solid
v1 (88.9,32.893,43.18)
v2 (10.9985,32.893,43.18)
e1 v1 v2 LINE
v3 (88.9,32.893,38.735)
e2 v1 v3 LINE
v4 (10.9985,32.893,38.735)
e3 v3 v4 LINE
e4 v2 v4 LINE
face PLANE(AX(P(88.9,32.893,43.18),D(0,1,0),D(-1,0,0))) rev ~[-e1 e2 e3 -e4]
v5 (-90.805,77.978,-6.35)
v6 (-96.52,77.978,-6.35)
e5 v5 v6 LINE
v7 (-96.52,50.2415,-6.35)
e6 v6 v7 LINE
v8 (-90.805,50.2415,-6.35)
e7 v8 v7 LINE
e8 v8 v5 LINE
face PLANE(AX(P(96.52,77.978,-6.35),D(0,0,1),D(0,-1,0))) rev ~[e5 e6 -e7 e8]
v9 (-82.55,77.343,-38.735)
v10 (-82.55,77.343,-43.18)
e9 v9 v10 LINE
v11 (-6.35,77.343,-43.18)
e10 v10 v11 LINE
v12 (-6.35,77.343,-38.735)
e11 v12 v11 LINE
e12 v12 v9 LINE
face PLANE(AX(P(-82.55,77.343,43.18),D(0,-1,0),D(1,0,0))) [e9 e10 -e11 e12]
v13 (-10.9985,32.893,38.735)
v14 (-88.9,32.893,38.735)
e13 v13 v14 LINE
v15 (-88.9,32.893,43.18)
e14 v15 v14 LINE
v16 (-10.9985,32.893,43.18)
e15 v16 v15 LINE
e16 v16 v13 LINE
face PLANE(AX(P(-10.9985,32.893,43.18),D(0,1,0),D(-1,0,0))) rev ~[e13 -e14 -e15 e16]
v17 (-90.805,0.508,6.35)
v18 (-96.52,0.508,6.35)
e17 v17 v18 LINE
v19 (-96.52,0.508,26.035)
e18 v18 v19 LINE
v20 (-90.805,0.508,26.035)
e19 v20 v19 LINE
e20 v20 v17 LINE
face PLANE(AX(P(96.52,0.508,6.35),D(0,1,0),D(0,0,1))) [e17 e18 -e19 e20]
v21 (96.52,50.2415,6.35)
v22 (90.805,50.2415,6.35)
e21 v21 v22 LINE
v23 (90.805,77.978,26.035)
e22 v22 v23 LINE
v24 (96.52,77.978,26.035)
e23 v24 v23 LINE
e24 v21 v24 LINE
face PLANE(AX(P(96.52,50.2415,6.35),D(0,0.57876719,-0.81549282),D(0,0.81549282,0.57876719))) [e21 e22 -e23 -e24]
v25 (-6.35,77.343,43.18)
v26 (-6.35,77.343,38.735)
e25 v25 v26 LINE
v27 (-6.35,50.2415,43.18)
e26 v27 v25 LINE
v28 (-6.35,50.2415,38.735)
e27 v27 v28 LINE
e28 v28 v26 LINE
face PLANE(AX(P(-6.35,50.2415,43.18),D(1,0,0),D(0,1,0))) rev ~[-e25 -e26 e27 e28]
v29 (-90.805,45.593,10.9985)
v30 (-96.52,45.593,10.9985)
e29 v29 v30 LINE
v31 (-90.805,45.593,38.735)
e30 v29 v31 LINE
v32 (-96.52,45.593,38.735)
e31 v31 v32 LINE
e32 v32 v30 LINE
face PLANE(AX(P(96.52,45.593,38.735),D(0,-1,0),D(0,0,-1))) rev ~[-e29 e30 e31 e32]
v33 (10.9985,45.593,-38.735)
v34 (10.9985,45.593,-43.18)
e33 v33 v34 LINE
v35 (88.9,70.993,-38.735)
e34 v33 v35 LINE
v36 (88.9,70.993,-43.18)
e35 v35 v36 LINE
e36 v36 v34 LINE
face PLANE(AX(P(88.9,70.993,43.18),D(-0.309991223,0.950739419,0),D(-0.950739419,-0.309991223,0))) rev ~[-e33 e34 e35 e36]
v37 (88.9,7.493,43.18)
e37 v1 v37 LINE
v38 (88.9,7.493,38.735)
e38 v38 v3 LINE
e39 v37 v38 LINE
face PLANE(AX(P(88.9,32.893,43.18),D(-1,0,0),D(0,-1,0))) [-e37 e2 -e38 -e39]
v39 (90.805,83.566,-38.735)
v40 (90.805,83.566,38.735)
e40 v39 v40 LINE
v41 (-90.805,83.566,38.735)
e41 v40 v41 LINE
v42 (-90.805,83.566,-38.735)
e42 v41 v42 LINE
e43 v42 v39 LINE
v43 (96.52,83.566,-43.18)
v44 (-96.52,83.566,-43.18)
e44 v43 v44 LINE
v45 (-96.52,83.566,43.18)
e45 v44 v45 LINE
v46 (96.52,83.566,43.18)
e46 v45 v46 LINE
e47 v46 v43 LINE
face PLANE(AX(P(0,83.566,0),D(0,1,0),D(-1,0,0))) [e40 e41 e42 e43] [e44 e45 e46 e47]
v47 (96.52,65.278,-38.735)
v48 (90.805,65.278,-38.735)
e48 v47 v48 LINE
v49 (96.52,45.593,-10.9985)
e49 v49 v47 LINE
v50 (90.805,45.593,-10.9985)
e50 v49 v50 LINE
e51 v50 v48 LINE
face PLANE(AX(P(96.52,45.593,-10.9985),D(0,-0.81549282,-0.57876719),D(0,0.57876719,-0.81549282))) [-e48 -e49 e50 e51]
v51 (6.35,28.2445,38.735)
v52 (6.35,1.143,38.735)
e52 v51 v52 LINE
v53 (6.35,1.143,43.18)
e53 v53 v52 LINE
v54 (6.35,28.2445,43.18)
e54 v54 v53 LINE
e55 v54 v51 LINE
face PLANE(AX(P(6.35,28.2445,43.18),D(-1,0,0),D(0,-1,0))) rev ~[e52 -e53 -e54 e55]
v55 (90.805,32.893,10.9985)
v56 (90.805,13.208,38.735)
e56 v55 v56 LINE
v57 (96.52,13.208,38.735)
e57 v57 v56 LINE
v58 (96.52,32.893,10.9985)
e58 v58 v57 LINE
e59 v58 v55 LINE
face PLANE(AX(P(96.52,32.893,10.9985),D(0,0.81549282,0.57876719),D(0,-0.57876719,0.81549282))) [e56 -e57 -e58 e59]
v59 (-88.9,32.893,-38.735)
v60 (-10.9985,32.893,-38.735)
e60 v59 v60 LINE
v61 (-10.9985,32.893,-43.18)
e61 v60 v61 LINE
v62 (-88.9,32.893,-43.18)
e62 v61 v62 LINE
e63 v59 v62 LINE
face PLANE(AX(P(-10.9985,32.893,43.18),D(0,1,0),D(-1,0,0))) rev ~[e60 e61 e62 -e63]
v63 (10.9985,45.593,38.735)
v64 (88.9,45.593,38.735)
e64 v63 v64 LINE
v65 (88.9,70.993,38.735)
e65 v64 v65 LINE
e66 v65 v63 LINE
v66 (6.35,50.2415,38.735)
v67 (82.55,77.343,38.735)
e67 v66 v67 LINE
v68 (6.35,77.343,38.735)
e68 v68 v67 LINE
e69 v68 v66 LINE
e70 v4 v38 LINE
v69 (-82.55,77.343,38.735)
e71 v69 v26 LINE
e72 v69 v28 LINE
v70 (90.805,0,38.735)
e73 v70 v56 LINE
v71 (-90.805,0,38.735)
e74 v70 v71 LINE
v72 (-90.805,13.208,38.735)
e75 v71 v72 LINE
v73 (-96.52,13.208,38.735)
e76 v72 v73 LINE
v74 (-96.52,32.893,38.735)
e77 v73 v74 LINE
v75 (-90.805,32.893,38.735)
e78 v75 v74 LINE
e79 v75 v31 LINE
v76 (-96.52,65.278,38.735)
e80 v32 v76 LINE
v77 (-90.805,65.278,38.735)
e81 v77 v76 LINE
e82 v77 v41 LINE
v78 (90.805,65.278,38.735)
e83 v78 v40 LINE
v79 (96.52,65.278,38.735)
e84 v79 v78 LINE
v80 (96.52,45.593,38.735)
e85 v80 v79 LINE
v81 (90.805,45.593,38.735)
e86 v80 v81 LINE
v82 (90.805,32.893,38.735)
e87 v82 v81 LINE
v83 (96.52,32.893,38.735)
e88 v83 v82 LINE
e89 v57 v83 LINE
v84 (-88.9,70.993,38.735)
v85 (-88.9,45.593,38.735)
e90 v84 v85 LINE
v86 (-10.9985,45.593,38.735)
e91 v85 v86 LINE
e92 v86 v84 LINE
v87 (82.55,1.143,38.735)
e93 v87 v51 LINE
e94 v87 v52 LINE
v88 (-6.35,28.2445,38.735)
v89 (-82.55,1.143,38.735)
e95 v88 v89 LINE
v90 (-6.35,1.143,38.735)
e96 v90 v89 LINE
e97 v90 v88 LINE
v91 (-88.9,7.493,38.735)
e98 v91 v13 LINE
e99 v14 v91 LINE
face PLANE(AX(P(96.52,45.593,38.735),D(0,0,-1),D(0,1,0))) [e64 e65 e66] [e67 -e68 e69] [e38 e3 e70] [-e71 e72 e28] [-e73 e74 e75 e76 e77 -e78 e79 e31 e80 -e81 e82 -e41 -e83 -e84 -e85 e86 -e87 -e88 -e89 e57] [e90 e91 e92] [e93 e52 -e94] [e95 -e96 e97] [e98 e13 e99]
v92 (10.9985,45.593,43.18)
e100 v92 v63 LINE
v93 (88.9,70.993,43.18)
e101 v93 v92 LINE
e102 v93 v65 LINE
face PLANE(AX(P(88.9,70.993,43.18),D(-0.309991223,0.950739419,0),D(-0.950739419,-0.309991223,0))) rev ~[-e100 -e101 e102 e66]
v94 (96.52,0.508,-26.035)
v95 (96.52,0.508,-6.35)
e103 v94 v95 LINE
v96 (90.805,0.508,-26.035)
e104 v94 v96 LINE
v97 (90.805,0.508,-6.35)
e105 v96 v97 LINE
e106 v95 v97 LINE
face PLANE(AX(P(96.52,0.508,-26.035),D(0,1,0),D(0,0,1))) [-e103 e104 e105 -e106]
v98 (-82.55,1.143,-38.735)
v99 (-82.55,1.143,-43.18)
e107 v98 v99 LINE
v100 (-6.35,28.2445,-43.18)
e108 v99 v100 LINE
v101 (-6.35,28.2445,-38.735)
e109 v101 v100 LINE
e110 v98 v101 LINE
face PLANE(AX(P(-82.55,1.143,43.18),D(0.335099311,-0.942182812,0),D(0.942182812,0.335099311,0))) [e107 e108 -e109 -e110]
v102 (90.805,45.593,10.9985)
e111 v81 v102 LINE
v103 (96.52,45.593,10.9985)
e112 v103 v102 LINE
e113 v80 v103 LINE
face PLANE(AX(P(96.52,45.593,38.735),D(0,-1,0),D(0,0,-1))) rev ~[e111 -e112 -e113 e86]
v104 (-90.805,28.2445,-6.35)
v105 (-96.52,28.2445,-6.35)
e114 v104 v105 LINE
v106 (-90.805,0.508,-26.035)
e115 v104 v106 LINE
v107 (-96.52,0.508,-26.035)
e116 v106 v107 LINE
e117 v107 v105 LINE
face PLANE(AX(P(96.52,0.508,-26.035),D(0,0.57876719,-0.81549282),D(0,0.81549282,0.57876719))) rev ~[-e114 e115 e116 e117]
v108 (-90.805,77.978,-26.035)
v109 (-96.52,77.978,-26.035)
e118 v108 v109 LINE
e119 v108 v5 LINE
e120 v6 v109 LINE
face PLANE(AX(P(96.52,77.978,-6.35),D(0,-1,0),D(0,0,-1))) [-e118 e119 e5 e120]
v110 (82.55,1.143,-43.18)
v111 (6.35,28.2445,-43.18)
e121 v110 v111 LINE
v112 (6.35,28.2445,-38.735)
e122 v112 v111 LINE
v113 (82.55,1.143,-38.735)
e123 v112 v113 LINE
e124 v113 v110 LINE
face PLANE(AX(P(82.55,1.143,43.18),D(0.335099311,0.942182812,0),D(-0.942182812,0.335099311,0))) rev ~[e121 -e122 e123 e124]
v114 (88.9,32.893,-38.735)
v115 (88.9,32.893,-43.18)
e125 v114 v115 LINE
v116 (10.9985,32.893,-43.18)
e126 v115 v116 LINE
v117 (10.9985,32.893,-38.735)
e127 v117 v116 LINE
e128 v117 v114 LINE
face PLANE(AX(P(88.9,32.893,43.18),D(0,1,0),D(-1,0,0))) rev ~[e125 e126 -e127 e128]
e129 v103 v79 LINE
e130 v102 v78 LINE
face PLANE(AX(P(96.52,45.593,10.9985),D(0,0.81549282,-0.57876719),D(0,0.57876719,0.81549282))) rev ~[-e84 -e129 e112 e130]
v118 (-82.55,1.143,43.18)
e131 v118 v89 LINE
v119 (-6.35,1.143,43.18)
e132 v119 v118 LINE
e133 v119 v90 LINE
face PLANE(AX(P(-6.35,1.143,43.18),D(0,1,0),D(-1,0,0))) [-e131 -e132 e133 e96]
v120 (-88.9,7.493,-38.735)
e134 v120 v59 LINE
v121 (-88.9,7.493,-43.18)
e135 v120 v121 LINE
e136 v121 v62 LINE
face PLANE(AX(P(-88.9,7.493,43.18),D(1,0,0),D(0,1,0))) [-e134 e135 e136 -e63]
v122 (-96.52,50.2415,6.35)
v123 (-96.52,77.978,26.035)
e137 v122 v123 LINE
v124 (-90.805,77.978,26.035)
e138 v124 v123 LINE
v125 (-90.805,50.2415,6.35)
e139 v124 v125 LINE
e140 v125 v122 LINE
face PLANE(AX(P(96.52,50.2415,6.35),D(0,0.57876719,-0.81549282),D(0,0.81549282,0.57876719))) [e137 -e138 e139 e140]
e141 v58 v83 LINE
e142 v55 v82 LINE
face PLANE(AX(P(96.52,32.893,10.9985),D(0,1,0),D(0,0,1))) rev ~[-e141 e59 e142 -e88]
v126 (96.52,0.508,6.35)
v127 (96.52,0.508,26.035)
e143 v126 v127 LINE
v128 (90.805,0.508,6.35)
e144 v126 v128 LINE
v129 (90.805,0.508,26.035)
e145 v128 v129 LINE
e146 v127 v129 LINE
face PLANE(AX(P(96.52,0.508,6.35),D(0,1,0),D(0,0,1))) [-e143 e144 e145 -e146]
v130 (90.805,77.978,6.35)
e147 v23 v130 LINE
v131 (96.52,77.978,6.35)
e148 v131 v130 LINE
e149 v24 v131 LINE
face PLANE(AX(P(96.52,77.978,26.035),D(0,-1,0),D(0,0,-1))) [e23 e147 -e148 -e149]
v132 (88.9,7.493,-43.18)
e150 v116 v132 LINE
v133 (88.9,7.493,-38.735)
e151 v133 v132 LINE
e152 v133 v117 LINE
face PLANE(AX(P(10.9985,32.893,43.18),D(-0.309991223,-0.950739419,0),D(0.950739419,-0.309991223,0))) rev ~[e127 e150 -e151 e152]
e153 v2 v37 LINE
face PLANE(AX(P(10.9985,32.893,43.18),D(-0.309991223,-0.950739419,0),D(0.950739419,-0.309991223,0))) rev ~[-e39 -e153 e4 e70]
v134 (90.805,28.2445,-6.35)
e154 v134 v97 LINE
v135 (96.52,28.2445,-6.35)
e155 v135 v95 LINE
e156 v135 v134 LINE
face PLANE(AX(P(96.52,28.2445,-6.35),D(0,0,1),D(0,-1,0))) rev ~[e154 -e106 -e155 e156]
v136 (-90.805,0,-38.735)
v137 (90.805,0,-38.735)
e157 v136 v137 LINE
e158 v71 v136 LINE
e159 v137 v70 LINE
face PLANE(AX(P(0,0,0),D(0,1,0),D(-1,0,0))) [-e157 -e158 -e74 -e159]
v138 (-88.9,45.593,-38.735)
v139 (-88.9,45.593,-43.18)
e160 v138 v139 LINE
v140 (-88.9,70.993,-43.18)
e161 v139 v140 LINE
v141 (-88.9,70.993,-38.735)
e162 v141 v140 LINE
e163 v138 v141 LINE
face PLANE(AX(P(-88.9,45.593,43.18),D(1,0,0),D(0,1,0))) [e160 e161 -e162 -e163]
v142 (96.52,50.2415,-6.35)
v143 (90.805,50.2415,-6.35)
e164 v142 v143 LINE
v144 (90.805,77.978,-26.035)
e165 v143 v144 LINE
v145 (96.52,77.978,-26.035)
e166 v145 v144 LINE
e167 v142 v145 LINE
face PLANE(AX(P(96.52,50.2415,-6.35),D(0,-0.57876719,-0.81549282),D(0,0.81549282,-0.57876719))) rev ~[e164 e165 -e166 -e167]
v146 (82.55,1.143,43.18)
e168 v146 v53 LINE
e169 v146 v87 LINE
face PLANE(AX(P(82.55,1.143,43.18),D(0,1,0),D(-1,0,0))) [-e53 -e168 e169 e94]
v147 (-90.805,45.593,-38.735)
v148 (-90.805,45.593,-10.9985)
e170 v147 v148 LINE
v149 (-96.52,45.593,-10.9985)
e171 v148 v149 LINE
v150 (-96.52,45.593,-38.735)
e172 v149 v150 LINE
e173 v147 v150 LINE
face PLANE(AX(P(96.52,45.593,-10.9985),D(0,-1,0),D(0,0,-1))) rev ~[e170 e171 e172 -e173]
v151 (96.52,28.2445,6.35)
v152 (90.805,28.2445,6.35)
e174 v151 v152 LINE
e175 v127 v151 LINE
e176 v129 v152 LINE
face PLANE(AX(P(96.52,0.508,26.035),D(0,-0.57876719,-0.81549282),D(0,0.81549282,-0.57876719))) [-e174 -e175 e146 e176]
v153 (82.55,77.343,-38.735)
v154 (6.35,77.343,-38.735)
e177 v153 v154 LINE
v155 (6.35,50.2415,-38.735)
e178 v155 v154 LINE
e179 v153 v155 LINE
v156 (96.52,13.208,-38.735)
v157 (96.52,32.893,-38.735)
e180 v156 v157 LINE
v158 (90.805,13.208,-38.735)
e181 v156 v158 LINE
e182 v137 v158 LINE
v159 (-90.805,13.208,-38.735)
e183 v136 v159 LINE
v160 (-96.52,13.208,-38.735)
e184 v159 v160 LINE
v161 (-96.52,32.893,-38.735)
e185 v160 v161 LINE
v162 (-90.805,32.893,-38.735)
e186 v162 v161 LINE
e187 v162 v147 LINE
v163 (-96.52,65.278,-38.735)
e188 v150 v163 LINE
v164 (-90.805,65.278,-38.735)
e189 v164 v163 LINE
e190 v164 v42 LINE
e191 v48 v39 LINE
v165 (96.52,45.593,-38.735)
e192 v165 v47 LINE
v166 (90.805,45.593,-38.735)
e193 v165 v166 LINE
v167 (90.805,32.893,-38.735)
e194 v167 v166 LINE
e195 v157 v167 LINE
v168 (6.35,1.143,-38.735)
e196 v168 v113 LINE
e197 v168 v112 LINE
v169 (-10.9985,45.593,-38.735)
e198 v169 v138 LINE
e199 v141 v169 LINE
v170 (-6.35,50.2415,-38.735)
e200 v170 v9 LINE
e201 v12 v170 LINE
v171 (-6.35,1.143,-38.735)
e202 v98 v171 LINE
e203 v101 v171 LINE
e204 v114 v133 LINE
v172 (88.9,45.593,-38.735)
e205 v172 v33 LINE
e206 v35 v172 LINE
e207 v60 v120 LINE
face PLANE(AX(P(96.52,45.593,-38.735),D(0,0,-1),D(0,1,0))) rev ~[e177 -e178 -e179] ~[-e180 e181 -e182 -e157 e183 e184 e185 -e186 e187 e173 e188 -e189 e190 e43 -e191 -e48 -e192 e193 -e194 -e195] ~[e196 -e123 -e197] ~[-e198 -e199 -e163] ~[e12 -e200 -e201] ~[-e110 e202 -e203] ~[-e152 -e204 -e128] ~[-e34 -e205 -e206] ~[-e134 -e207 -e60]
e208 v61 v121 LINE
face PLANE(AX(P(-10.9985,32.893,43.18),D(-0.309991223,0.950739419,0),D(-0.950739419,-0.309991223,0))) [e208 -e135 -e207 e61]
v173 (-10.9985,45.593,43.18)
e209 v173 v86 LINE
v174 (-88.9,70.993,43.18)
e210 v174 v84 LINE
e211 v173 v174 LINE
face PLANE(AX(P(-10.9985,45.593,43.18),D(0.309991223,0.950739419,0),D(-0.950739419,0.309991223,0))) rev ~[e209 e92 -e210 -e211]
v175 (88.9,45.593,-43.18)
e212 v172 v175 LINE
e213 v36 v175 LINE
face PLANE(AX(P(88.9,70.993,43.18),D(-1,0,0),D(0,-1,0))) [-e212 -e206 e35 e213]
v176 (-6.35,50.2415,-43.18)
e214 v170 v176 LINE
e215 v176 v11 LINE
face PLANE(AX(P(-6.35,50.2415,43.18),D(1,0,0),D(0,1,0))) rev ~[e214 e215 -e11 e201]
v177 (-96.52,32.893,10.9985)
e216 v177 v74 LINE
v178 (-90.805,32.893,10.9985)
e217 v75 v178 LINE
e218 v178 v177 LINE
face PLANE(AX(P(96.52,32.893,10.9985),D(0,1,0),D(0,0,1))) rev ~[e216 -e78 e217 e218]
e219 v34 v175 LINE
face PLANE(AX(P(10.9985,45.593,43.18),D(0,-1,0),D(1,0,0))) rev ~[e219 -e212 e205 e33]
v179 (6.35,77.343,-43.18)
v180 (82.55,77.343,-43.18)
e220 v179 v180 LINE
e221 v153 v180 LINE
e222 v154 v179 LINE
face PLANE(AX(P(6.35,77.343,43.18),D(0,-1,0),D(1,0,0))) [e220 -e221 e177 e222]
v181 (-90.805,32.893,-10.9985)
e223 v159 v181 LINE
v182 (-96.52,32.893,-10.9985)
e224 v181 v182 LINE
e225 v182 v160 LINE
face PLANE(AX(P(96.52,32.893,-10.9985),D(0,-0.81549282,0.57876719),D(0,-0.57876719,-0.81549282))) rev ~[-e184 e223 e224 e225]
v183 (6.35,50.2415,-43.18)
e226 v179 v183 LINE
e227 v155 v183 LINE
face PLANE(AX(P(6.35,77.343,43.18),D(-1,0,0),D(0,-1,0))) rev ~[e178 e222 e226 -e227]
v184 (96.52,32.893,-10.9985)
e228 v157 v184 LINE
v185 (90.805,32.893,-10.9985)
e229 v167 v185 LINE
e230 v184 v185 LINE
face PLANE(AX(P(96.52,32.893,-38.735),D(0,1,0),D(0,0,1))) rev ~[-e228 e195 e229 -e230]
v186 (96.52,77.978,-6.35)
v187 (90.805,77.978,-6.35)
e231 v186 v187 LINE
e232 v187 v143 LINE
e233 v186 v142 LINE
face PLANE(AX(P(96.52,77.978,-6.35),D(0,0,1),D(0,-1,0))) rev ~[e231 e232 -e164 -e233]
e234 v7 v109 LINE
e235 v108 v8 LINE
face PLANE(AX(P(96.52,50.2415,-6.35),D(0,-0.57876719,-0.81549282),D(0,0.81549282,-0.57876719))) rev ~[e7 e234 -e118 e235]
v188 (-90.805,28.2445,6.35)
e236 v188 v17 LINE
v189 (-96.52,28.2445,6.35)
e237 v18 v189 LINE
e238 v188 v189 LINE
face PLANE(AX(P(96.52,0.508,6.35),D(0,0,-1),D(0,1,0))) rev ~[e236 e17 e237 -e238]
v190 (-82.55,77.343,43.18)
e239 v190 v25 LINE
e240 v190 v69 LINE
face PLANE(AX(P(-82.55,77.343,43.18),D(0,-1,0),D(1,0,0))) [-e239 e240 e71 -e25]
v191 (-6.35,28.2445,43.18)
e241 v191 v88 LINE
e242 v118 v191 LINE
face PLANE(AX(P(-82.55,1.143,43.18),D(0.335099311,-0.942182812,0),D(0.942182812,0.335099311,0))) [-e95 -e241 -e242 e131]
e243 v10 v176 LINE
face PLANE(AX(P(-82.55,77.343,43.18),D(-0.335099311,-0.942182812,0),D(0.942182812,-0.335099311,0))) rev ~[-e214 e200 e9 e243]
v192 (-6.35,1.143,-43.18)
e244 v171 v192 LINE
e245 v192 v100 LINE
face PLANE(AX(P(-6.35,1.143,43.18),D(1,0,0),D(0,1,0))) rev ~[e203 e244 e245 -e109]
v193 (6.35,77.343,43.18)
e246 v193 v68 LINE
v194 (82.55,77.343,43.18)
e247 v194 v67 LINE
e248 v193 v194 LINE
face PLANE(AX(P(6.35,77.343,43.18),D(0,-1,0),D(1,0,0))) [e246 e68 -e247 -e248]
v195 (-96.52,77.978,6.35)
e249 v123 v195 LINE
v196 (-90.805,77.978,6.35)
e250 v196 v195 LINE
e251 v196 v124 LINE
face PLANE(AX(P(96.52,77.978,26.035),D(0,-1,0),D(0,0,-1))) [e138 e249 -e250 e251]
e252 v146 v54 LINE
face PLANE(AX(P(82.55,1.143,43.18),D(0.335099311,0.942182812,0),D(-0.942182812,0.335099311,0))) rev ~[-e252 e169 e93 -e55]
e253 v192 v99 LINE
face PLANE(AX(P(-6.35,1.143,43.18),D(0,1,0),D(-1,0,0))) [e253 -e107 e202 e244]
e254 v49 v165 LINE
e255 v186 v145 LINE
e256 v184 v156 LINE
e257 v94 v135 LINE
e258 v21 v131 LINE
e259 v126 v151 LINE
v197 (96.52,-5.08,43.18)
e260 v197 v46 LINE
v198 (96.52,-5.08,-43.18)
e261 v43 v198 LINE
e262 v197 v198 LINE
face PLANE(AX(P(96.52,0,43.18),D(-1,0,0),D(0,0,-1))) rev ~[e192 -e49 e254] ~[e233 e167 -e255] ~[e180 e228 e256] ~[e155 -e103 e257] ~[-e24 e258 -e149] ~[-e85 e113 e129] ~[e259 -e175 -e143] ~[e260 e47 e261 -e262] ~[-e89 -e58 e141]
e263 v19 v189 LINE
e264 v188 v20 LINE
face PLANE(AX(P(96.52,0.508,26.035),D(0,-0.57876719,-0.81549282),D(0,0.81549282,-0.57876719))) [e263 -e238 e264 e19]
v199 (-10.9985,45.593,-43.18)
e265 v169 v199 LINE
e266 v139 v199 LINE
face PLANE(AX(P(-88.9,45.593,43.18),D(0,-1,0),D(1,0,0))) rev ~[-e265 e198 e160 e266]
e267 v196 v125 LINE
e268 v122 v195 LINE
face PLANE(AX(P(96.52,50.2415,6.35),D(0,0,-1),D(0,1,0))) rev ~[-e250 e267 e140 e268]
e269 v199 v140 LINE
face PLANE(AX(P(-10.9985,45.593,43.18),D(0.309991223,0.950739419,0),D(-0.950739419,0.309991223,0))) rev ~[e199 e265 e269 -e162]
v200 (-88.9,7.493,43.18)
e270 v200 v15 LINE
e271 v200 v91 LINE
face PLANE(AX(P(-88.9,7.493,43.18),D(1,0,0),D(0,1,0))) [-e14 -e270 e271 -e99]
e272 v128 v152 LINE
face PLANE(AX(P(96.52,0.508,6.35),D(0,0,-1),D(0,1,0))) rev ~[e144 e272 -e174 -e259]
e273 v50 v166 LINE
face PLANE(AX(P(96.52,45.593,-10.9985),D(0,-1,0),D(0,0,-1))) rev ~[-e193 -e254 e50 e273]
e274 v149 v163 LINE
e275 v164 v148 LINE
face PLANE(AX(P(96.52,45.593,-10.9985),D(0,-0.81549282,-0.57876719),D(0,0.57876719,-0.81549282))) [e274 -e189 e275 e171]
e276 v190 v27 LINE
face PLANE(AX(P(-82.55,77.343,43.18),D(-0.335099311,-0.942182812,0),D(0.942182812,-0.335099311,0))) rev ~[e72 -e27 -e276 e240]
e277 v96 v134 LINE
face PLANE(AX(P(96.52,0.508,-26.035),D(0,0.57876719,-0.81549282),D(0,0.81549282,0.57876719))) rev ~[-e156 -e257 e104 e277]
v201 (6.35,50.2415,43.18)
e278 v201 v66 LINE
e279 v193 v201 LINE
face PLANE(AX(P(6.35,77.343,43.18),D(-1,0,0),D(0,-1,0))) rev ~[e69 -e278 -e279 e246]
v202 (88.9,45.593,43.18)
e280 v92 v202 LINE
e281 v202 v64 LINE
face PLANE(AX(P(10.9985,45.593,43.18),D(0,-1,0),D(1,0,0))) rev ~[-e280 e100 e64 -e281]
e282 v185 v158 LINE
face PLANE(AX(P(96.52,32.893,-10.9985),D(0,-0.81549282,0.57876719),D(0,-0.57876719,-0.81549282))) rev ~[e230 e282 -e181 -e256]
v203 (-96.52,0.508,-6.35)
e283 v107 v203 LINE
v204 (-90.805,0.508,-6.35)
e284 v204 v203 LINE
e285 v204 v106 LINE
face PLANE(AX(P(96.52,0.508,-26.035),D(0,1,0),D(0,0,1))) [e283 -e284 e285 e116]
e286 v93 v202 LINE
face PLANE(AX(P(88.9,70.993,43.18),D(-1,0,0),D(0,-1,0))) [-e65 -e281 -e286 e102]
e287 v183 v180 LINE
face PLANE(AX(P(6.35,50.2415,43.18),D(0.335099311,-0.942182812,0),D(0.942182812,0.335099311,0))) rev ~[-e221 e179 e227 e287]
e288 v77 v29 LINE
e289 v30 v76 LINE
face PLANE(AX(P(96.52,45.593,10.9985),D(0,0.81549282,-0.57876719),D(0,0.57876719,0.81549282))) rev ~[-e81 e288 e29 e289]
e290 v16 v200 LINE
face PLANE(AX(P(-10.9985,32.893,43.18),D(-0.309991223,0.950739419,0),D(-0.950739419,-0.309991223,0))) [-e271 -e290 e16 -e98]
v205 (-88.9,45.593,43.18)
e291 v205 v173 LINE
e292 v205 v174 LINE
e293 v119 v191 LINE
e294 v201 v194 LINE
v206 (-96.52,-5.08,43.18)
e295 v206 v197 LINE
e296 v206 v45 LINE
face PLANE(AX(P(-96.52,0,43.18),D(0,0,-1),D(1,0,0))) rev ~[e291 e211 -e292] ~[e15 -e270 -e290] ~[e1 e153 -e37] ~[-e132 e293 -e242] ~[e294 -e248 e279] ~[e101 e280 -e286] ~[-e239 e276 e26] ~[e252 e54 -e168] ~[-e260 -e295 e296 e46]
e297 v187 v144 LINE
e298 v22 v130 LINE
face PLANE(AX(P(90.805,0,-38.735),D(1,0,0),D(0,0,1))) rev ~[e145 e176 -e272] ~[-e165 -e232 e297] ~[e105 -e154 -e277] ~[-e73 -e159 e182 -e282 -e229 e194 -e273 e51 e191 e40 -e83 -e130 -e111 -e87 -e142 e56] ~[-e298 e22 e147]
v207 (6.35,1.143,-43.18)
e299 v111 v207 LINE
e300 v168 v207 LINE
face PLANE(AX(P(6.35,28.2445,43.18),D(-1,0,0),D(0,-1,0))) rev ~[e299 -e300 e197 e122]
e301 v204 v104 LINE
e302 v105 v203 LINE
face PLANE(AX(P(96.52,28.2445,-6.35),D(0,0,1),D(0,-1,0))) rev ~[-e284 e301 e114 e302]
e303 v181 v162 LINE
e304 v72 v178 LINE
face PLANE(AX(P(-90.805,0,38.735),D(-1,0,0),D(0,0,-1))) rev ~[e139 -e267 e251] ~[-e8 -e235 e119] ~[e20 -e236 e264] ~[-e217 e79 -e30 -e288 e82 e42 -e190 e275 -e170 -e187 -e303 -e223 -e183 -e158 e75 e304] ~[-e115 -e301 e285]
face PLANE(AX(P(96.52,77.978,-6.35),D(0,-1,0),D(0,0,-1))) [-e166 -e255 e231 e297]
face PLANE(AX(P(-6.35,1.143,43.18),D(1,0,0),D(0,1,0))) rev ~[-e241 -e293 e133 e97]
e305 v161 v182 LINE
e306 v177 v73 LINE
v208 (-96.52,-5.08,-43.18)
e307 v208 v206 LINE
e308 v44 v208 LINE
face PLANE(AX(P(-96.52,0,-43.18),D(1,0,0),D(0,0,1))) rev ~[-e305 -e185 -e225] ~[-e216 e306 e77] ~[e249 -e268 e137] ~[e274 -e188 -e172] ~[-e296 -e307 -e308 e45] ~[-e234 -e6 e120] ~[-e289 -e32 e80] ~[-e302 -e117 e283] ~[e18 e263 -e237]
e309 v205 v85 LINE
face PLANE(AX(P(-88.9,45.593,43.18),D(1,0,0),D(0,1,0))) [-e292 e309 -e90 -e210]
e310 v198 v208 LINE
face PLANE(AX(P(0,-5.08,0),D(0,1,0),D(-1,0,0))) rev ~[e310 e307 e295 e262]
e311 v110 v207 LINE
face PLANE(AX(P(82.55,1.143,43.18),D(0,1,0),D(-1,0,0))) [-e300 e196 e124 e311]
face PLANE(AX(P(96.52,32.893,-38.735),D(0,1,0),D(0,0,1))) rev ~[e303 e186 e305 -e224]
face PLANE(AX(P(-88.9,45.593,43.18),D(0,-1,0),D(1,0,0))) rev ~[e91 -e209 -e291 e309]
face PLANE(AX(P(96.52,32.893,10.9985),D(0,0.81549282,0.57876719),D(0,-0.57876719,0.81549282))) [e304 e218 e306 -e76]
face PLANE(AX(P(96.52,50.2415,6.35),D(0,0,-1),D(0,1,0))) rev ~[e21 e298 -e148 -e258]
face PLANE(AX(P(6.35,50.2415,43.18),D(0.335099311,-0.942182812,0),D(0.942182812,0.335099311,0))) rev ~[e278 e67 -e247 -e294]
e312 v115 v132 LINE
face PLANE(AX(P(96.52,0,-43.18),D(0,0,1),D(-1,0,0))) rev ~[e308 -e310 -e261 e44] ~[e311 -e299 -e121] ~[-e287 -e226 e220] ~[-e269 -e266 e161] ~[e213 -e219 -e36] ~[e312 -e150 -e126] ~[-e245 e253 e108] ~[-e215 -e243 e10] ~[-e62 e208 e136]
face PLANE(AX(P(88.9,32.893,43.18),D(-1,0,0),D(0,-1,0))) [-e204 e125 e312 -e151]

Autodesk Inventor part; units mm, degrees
ref_plane "YZ Plane" through (0, 0, 0) normal (1, 0, 0) x (0, 1, 0)
ref_plane "XZ Plane" through (0, 0, 0) normal (0, 1, 0) x (-1, 0, 0)
ref_plane "XY Plane" through (0, 0, 0) normal (0, 0, 1) x (1, 0, 0)
sketch "Sketch1" plane through (0, 0, 0) normal (0, 1, 0) x (-1, 0, 0)
  line L0 (-90.805, 38.735) -> (90.805, 38.735)
  line L1 (90.805, 38.735) -> (90.805, -38.735)
  line L2 (90.805, -38.735) -> (-90.805, -38.735)
  line L3 (-90.805, -38.735) -> (-90.805, 38.735)
  line L4 (-90.805, 38.735) -> (90.805, -38.735) construction
  line L5 (90.805, 38.735) -> (-90.805, -38.735) construction
  line L6 (96.52, 43.18) -> (-96.52, 43.18)
  line L7 (-96.52, 43.18) -> (-96.52, -43.18)
  line L8 (-96.52, -43.18) -> (96.52, -43.18)
  line L9 (96.52, -43.18) -> (96.52, 43.18)
  line L10 (96.52, 43.18) -> (-96.52, -43.18) construction
  line L11 (-96.52, 43.18) -> (96.52, -43.18) construction
  point P0 (0, 0)
  dimension "d0" = 181.61
  dimension "d1" = 77.47
  dimension "d2" = 193.04
  dimension "d3" = 86.36
extrude "Extrusion1" add sketch "Sketch1" against normal blind 5.08 contours L0 L1 L2 L3 | L9 L8 L7 L6
extrude "Extrusion2" add sketch "Sketch1" along normal blind 83.566
sketch "Sketch2" plane through (-96.52, -5.08, 43.18) normal (0, 0, 1) x (1, 0, 0)
  line L0 (187.325, 88.646) -> (5.715, 88.646) projected
  line L1 (193.04, 88.646) -> (193.04, 0) projected
  line L2 (7.62, 82.423) -> (185.42, 82.423)
  line L3 (185.42, 82.423) -> (185.42, 6.223)
  line L4 (185.42, 6.223) -> (7.62, 6.223)
  line L5 (7.62, 6.223) -> (7.62, 82.423)
  line L6 (185.42, 50.673) -> (185.42, 37.973)
  line L7 (7.62, 37.973) -> (7.62, 50.673)
  line L8 (90.17, 82.423) -> (102.87, 82.423)
  line L9 (102.87, 6.223) -> (90.17, 6.223)
  line L10 (7.62, 50.673) -> (85.5215, 50.673)
  line L11 (107.5185, 50.673) -> (185.42, 50.673)
  line L12 (90.17, 6.223) -> (90.17, 33.3245)
  line L13 (90.17, 55.3215) -> (90.17, 82.423)
  line L14 (185.42, 37.973) -> (107.5185, 37.973)
  line L15 (85.5215, 37.973) -> (7.62, 37.973)
  line L16 (102.87, 82.423) -> (102.87, 55.3215)
  line L17 (102.87, 33.3245) -> (102.87, 6.223)
  arc A0 (90.17, 55.3215) -> (85.5215, 50.673) centre (96.52, 44.323) ccw
  arc A1 (107.5185, 50.673) -> (102.87, 55.3215) centre (96.52, 44.323) ccw
  arc A2 (85.5215, 37.973) -> (90.17, 33.3245) centre (96.52, 44.323) ccw
  arc A3 (102.87, 33.3245) -> (107.5185, 37.973) centre (96.52, 44.323) ccw
  line L18 (7.62, 82.423) -> (13.97, 82.423)
  line L19 (13.97, 82.423) -> (13.97, 76.073)
  line L20 (13.97, 76.073) -> (7.62, 76.073)
  line L21 (7.62, 76.073) -> (7.62, 82.423)
  line L22 (185.42, 82.423) -> (179.07, 82.423)
  line L23 (179.07, 82.423) -> (179.07, 76.073)
  line L24 (179.07, 76.073) -> (185.42, 76.073)
  line L25 (185.42, 76.073) -> (185.42, 82.423)
  line L26 (185.42, 6.223) -> (179.07, 6.223)
  line L27 (179.07, 6.223) -> (179.07, 12.573)
  line L28 (179.07, 12.573) -> (185.42, 12.573)
  line L29 (185.42, 12.573) -> (185.42, 6.223)
  line L30 (7.62, 6.223) -> (13.97, 6.223)
  line L31 (13.97, 6.223) -> (13.97, 12.573)
  line L32 (13.97, 12.573) -> (7.62, 12.573)
  line L33 (7.62, 12.573) -> (7.62, 6.223)
  line L34 (13.97, 6.223) -> (90.17, 33.3245)
  line L35 (85.5215, 37.973) -> (7.62, 12.573)
  line L36 (85.5215, 50.673) -> (7.62, 76.073)
  line L37 (13.97, 82.423) -> (90.17, 55.3215)
  line L38 (102.87, 55.3215) -> (179.07, 82.423)
  line L39 (185.42, 76.073) -> (107.5185, 50.673)
  line L40 (107.5185, 37.973) -> (185.42, 12.573)
  line L41 (179.07, 6.223) -> (102.87, 33.3245)
  point P0 (96.52, 5.08)
  point P1 (96.52, 88.646)
  point P2 (193.04, 44.323)
  point P3 (13.97, 82.423)
  point P4 (13.97, 6.223)
  dimension "d8" = 177.8
  dimension "d9" = 76.2
  dimension "d11" = 12.7
  dimension "d12" = 12.7
  dimension "d13" = 6.35
  dimension "d14" = 6.35
  dimension "d15" = 6.35
  dimension "d16" = 6.35
  dimension "d17" = 6.35
  dimension "d18" = 6.35
  dimension "d19" = 6.35
  dimension "d20" = 6.35
extrude "Extrusion3" cut sketch "Sketch2" against normal through all contours L2 L13 L37 | L36 L10 L5 | L2 L38 L16 | L15 L35 L5 | L39 L3 L11 | L12 L4 L34 | L3 L40 L14 | L17 L41 L4
sketch "Sketch3" plane through (96.52, -5.08, 43.18) normal (1, 0, 0) x (0, 0, -1)
  line L0 (81.915, 88.646) -> (4.445, 88.646) projected
  line L1 (86.36, 0) -> (86.36, 88.646) projected
  line L2 (81.915, 5.08) -> (81.915, 88.646) projected
  line L3 (4.445, 83.058) -> (81.915, 83.058)
  line L4 (81.915, 83.058) -> (81.915, 5.588)
  line L5 (81.915, 5.588) -> (4.445, 5.588)
  line L6 (4.445, 5.588) -> (4.445, 83.058)
  circle A0 centre (43.18, 44.323) radius 12.7
  line L7 (81.915, 50.673) -> (81.915, 37.973)
  line L8 (4.445, 37.973) -> (4.445, 50.673)
  line L9 (36.83, 83.058) -> (49.53, 83.058)
  line L10 (49.53, 5.588) -> (36.83, 5.588)
  line L11 (4.445, 50.673) -> (32.1815, 50.673)
  line L12 (54.1785, 50.673) -> (81.915, 50.673)
  line L13 (36.83, 5.588) -> (36.83, 33.3245)
  line L14 (36.83, 55.3215) -> (36.83, 83.058)
  line L15 (81.915, 37.973) -> (54.1785, 37.973)
  line L16 (32.1815, 37.973) -> (4.445, 37.973)
  line L17 (49.53, 83.058) -> (49.53, 55.3215)
  line L18 (49.53, 33.3245) -> (49.53, 5.588)
  line L19 (4.445, 83.058) -> (17.145, 83.058)
  line L20 (17.145, 83.058) -> (17.145, 70.358)
  line L21 (17.145, 70.358) -> (4.445, 70.358)
  line L22 (4.445, 70.358) -> (4.445, 83.058)
  line L23 (81.915, 83.058) -> (69.215, 83.058)
  line L24 (69.215, 83.058) -> (69.215, 70.358)
  line L25 (69.215, 70.358) -> (81.915, 70.358)
  line L26 (81.915, 70.358) -> (81.915, 83.058)
  line L27 (4.445, 5.588) -> (17.145, 5.588)
  line L28 (17.145, 5.588) -> (17.145, 18.288)
  line L29 (17.145, 18.288) -> (4.445, 18.288)
  line L30 (4.445, 18.288) -> (4.445, 5.588)
  line L31 (81.915, 5.588) -> (69.215, 5.588)
  line L32 (69.215, 5.588) -> (69.215, 18.288)
  line L33 (69.215, 18.288) -> (81.915, 18.288)
  line L34 (81.915, 18.288) -> (81.915, 5.588)
  line L35 (17.145, 5.588) -> (36.83, 33.3245)
  line L36 (32.1815, 37.973) -> (4.445, 18.288)
  line L37 (69.215, 5.588) -> (49.53, 33.3245)
  line L38 (54.1785, 37.973) -> (81.915, 18.288)
  line L39 (49.53, 55.3215) -> (69.215, 83.058)
  line L40 (54.1785, 50.673) -> (81.915, 70.358)
  line L41 (36.83, 55.3215) -> (17.145, 83.058)
  line L42 (32.1815, 50.673) -> (4.445, 70.358)
  point P0 (43.18, 5.08)
  point P1 (43.18, 88.646)
  point P2 (86.36, 44.323)
  dimension "d24" = 25.4
  dimension "d23" = 77.47
  dimension "d25" = 12.7
  dimension "d26" = 12.7
  dimension "d27" = 12.7
  dimension "d28" = 12.7
  dimension "d29" = 12.7
  dimension "d30" = 12.7
  dimension "d31" = 12.7
  dimension "d32" = 12.7
  dimension "d33" = 12.7
  dimension "d34" = 12.7
extrude "Extrusion4" cut sketch "Sketch3" against normal through all contours L38 L15 L2 | L5 L18 L37 | L12 L40 L2 | L5 L35 L13 | L36 L6 L16 | L17 L3 L39 | L11 L6 L42 | L41 L3 L14
properties part number "BatteryHolder"
